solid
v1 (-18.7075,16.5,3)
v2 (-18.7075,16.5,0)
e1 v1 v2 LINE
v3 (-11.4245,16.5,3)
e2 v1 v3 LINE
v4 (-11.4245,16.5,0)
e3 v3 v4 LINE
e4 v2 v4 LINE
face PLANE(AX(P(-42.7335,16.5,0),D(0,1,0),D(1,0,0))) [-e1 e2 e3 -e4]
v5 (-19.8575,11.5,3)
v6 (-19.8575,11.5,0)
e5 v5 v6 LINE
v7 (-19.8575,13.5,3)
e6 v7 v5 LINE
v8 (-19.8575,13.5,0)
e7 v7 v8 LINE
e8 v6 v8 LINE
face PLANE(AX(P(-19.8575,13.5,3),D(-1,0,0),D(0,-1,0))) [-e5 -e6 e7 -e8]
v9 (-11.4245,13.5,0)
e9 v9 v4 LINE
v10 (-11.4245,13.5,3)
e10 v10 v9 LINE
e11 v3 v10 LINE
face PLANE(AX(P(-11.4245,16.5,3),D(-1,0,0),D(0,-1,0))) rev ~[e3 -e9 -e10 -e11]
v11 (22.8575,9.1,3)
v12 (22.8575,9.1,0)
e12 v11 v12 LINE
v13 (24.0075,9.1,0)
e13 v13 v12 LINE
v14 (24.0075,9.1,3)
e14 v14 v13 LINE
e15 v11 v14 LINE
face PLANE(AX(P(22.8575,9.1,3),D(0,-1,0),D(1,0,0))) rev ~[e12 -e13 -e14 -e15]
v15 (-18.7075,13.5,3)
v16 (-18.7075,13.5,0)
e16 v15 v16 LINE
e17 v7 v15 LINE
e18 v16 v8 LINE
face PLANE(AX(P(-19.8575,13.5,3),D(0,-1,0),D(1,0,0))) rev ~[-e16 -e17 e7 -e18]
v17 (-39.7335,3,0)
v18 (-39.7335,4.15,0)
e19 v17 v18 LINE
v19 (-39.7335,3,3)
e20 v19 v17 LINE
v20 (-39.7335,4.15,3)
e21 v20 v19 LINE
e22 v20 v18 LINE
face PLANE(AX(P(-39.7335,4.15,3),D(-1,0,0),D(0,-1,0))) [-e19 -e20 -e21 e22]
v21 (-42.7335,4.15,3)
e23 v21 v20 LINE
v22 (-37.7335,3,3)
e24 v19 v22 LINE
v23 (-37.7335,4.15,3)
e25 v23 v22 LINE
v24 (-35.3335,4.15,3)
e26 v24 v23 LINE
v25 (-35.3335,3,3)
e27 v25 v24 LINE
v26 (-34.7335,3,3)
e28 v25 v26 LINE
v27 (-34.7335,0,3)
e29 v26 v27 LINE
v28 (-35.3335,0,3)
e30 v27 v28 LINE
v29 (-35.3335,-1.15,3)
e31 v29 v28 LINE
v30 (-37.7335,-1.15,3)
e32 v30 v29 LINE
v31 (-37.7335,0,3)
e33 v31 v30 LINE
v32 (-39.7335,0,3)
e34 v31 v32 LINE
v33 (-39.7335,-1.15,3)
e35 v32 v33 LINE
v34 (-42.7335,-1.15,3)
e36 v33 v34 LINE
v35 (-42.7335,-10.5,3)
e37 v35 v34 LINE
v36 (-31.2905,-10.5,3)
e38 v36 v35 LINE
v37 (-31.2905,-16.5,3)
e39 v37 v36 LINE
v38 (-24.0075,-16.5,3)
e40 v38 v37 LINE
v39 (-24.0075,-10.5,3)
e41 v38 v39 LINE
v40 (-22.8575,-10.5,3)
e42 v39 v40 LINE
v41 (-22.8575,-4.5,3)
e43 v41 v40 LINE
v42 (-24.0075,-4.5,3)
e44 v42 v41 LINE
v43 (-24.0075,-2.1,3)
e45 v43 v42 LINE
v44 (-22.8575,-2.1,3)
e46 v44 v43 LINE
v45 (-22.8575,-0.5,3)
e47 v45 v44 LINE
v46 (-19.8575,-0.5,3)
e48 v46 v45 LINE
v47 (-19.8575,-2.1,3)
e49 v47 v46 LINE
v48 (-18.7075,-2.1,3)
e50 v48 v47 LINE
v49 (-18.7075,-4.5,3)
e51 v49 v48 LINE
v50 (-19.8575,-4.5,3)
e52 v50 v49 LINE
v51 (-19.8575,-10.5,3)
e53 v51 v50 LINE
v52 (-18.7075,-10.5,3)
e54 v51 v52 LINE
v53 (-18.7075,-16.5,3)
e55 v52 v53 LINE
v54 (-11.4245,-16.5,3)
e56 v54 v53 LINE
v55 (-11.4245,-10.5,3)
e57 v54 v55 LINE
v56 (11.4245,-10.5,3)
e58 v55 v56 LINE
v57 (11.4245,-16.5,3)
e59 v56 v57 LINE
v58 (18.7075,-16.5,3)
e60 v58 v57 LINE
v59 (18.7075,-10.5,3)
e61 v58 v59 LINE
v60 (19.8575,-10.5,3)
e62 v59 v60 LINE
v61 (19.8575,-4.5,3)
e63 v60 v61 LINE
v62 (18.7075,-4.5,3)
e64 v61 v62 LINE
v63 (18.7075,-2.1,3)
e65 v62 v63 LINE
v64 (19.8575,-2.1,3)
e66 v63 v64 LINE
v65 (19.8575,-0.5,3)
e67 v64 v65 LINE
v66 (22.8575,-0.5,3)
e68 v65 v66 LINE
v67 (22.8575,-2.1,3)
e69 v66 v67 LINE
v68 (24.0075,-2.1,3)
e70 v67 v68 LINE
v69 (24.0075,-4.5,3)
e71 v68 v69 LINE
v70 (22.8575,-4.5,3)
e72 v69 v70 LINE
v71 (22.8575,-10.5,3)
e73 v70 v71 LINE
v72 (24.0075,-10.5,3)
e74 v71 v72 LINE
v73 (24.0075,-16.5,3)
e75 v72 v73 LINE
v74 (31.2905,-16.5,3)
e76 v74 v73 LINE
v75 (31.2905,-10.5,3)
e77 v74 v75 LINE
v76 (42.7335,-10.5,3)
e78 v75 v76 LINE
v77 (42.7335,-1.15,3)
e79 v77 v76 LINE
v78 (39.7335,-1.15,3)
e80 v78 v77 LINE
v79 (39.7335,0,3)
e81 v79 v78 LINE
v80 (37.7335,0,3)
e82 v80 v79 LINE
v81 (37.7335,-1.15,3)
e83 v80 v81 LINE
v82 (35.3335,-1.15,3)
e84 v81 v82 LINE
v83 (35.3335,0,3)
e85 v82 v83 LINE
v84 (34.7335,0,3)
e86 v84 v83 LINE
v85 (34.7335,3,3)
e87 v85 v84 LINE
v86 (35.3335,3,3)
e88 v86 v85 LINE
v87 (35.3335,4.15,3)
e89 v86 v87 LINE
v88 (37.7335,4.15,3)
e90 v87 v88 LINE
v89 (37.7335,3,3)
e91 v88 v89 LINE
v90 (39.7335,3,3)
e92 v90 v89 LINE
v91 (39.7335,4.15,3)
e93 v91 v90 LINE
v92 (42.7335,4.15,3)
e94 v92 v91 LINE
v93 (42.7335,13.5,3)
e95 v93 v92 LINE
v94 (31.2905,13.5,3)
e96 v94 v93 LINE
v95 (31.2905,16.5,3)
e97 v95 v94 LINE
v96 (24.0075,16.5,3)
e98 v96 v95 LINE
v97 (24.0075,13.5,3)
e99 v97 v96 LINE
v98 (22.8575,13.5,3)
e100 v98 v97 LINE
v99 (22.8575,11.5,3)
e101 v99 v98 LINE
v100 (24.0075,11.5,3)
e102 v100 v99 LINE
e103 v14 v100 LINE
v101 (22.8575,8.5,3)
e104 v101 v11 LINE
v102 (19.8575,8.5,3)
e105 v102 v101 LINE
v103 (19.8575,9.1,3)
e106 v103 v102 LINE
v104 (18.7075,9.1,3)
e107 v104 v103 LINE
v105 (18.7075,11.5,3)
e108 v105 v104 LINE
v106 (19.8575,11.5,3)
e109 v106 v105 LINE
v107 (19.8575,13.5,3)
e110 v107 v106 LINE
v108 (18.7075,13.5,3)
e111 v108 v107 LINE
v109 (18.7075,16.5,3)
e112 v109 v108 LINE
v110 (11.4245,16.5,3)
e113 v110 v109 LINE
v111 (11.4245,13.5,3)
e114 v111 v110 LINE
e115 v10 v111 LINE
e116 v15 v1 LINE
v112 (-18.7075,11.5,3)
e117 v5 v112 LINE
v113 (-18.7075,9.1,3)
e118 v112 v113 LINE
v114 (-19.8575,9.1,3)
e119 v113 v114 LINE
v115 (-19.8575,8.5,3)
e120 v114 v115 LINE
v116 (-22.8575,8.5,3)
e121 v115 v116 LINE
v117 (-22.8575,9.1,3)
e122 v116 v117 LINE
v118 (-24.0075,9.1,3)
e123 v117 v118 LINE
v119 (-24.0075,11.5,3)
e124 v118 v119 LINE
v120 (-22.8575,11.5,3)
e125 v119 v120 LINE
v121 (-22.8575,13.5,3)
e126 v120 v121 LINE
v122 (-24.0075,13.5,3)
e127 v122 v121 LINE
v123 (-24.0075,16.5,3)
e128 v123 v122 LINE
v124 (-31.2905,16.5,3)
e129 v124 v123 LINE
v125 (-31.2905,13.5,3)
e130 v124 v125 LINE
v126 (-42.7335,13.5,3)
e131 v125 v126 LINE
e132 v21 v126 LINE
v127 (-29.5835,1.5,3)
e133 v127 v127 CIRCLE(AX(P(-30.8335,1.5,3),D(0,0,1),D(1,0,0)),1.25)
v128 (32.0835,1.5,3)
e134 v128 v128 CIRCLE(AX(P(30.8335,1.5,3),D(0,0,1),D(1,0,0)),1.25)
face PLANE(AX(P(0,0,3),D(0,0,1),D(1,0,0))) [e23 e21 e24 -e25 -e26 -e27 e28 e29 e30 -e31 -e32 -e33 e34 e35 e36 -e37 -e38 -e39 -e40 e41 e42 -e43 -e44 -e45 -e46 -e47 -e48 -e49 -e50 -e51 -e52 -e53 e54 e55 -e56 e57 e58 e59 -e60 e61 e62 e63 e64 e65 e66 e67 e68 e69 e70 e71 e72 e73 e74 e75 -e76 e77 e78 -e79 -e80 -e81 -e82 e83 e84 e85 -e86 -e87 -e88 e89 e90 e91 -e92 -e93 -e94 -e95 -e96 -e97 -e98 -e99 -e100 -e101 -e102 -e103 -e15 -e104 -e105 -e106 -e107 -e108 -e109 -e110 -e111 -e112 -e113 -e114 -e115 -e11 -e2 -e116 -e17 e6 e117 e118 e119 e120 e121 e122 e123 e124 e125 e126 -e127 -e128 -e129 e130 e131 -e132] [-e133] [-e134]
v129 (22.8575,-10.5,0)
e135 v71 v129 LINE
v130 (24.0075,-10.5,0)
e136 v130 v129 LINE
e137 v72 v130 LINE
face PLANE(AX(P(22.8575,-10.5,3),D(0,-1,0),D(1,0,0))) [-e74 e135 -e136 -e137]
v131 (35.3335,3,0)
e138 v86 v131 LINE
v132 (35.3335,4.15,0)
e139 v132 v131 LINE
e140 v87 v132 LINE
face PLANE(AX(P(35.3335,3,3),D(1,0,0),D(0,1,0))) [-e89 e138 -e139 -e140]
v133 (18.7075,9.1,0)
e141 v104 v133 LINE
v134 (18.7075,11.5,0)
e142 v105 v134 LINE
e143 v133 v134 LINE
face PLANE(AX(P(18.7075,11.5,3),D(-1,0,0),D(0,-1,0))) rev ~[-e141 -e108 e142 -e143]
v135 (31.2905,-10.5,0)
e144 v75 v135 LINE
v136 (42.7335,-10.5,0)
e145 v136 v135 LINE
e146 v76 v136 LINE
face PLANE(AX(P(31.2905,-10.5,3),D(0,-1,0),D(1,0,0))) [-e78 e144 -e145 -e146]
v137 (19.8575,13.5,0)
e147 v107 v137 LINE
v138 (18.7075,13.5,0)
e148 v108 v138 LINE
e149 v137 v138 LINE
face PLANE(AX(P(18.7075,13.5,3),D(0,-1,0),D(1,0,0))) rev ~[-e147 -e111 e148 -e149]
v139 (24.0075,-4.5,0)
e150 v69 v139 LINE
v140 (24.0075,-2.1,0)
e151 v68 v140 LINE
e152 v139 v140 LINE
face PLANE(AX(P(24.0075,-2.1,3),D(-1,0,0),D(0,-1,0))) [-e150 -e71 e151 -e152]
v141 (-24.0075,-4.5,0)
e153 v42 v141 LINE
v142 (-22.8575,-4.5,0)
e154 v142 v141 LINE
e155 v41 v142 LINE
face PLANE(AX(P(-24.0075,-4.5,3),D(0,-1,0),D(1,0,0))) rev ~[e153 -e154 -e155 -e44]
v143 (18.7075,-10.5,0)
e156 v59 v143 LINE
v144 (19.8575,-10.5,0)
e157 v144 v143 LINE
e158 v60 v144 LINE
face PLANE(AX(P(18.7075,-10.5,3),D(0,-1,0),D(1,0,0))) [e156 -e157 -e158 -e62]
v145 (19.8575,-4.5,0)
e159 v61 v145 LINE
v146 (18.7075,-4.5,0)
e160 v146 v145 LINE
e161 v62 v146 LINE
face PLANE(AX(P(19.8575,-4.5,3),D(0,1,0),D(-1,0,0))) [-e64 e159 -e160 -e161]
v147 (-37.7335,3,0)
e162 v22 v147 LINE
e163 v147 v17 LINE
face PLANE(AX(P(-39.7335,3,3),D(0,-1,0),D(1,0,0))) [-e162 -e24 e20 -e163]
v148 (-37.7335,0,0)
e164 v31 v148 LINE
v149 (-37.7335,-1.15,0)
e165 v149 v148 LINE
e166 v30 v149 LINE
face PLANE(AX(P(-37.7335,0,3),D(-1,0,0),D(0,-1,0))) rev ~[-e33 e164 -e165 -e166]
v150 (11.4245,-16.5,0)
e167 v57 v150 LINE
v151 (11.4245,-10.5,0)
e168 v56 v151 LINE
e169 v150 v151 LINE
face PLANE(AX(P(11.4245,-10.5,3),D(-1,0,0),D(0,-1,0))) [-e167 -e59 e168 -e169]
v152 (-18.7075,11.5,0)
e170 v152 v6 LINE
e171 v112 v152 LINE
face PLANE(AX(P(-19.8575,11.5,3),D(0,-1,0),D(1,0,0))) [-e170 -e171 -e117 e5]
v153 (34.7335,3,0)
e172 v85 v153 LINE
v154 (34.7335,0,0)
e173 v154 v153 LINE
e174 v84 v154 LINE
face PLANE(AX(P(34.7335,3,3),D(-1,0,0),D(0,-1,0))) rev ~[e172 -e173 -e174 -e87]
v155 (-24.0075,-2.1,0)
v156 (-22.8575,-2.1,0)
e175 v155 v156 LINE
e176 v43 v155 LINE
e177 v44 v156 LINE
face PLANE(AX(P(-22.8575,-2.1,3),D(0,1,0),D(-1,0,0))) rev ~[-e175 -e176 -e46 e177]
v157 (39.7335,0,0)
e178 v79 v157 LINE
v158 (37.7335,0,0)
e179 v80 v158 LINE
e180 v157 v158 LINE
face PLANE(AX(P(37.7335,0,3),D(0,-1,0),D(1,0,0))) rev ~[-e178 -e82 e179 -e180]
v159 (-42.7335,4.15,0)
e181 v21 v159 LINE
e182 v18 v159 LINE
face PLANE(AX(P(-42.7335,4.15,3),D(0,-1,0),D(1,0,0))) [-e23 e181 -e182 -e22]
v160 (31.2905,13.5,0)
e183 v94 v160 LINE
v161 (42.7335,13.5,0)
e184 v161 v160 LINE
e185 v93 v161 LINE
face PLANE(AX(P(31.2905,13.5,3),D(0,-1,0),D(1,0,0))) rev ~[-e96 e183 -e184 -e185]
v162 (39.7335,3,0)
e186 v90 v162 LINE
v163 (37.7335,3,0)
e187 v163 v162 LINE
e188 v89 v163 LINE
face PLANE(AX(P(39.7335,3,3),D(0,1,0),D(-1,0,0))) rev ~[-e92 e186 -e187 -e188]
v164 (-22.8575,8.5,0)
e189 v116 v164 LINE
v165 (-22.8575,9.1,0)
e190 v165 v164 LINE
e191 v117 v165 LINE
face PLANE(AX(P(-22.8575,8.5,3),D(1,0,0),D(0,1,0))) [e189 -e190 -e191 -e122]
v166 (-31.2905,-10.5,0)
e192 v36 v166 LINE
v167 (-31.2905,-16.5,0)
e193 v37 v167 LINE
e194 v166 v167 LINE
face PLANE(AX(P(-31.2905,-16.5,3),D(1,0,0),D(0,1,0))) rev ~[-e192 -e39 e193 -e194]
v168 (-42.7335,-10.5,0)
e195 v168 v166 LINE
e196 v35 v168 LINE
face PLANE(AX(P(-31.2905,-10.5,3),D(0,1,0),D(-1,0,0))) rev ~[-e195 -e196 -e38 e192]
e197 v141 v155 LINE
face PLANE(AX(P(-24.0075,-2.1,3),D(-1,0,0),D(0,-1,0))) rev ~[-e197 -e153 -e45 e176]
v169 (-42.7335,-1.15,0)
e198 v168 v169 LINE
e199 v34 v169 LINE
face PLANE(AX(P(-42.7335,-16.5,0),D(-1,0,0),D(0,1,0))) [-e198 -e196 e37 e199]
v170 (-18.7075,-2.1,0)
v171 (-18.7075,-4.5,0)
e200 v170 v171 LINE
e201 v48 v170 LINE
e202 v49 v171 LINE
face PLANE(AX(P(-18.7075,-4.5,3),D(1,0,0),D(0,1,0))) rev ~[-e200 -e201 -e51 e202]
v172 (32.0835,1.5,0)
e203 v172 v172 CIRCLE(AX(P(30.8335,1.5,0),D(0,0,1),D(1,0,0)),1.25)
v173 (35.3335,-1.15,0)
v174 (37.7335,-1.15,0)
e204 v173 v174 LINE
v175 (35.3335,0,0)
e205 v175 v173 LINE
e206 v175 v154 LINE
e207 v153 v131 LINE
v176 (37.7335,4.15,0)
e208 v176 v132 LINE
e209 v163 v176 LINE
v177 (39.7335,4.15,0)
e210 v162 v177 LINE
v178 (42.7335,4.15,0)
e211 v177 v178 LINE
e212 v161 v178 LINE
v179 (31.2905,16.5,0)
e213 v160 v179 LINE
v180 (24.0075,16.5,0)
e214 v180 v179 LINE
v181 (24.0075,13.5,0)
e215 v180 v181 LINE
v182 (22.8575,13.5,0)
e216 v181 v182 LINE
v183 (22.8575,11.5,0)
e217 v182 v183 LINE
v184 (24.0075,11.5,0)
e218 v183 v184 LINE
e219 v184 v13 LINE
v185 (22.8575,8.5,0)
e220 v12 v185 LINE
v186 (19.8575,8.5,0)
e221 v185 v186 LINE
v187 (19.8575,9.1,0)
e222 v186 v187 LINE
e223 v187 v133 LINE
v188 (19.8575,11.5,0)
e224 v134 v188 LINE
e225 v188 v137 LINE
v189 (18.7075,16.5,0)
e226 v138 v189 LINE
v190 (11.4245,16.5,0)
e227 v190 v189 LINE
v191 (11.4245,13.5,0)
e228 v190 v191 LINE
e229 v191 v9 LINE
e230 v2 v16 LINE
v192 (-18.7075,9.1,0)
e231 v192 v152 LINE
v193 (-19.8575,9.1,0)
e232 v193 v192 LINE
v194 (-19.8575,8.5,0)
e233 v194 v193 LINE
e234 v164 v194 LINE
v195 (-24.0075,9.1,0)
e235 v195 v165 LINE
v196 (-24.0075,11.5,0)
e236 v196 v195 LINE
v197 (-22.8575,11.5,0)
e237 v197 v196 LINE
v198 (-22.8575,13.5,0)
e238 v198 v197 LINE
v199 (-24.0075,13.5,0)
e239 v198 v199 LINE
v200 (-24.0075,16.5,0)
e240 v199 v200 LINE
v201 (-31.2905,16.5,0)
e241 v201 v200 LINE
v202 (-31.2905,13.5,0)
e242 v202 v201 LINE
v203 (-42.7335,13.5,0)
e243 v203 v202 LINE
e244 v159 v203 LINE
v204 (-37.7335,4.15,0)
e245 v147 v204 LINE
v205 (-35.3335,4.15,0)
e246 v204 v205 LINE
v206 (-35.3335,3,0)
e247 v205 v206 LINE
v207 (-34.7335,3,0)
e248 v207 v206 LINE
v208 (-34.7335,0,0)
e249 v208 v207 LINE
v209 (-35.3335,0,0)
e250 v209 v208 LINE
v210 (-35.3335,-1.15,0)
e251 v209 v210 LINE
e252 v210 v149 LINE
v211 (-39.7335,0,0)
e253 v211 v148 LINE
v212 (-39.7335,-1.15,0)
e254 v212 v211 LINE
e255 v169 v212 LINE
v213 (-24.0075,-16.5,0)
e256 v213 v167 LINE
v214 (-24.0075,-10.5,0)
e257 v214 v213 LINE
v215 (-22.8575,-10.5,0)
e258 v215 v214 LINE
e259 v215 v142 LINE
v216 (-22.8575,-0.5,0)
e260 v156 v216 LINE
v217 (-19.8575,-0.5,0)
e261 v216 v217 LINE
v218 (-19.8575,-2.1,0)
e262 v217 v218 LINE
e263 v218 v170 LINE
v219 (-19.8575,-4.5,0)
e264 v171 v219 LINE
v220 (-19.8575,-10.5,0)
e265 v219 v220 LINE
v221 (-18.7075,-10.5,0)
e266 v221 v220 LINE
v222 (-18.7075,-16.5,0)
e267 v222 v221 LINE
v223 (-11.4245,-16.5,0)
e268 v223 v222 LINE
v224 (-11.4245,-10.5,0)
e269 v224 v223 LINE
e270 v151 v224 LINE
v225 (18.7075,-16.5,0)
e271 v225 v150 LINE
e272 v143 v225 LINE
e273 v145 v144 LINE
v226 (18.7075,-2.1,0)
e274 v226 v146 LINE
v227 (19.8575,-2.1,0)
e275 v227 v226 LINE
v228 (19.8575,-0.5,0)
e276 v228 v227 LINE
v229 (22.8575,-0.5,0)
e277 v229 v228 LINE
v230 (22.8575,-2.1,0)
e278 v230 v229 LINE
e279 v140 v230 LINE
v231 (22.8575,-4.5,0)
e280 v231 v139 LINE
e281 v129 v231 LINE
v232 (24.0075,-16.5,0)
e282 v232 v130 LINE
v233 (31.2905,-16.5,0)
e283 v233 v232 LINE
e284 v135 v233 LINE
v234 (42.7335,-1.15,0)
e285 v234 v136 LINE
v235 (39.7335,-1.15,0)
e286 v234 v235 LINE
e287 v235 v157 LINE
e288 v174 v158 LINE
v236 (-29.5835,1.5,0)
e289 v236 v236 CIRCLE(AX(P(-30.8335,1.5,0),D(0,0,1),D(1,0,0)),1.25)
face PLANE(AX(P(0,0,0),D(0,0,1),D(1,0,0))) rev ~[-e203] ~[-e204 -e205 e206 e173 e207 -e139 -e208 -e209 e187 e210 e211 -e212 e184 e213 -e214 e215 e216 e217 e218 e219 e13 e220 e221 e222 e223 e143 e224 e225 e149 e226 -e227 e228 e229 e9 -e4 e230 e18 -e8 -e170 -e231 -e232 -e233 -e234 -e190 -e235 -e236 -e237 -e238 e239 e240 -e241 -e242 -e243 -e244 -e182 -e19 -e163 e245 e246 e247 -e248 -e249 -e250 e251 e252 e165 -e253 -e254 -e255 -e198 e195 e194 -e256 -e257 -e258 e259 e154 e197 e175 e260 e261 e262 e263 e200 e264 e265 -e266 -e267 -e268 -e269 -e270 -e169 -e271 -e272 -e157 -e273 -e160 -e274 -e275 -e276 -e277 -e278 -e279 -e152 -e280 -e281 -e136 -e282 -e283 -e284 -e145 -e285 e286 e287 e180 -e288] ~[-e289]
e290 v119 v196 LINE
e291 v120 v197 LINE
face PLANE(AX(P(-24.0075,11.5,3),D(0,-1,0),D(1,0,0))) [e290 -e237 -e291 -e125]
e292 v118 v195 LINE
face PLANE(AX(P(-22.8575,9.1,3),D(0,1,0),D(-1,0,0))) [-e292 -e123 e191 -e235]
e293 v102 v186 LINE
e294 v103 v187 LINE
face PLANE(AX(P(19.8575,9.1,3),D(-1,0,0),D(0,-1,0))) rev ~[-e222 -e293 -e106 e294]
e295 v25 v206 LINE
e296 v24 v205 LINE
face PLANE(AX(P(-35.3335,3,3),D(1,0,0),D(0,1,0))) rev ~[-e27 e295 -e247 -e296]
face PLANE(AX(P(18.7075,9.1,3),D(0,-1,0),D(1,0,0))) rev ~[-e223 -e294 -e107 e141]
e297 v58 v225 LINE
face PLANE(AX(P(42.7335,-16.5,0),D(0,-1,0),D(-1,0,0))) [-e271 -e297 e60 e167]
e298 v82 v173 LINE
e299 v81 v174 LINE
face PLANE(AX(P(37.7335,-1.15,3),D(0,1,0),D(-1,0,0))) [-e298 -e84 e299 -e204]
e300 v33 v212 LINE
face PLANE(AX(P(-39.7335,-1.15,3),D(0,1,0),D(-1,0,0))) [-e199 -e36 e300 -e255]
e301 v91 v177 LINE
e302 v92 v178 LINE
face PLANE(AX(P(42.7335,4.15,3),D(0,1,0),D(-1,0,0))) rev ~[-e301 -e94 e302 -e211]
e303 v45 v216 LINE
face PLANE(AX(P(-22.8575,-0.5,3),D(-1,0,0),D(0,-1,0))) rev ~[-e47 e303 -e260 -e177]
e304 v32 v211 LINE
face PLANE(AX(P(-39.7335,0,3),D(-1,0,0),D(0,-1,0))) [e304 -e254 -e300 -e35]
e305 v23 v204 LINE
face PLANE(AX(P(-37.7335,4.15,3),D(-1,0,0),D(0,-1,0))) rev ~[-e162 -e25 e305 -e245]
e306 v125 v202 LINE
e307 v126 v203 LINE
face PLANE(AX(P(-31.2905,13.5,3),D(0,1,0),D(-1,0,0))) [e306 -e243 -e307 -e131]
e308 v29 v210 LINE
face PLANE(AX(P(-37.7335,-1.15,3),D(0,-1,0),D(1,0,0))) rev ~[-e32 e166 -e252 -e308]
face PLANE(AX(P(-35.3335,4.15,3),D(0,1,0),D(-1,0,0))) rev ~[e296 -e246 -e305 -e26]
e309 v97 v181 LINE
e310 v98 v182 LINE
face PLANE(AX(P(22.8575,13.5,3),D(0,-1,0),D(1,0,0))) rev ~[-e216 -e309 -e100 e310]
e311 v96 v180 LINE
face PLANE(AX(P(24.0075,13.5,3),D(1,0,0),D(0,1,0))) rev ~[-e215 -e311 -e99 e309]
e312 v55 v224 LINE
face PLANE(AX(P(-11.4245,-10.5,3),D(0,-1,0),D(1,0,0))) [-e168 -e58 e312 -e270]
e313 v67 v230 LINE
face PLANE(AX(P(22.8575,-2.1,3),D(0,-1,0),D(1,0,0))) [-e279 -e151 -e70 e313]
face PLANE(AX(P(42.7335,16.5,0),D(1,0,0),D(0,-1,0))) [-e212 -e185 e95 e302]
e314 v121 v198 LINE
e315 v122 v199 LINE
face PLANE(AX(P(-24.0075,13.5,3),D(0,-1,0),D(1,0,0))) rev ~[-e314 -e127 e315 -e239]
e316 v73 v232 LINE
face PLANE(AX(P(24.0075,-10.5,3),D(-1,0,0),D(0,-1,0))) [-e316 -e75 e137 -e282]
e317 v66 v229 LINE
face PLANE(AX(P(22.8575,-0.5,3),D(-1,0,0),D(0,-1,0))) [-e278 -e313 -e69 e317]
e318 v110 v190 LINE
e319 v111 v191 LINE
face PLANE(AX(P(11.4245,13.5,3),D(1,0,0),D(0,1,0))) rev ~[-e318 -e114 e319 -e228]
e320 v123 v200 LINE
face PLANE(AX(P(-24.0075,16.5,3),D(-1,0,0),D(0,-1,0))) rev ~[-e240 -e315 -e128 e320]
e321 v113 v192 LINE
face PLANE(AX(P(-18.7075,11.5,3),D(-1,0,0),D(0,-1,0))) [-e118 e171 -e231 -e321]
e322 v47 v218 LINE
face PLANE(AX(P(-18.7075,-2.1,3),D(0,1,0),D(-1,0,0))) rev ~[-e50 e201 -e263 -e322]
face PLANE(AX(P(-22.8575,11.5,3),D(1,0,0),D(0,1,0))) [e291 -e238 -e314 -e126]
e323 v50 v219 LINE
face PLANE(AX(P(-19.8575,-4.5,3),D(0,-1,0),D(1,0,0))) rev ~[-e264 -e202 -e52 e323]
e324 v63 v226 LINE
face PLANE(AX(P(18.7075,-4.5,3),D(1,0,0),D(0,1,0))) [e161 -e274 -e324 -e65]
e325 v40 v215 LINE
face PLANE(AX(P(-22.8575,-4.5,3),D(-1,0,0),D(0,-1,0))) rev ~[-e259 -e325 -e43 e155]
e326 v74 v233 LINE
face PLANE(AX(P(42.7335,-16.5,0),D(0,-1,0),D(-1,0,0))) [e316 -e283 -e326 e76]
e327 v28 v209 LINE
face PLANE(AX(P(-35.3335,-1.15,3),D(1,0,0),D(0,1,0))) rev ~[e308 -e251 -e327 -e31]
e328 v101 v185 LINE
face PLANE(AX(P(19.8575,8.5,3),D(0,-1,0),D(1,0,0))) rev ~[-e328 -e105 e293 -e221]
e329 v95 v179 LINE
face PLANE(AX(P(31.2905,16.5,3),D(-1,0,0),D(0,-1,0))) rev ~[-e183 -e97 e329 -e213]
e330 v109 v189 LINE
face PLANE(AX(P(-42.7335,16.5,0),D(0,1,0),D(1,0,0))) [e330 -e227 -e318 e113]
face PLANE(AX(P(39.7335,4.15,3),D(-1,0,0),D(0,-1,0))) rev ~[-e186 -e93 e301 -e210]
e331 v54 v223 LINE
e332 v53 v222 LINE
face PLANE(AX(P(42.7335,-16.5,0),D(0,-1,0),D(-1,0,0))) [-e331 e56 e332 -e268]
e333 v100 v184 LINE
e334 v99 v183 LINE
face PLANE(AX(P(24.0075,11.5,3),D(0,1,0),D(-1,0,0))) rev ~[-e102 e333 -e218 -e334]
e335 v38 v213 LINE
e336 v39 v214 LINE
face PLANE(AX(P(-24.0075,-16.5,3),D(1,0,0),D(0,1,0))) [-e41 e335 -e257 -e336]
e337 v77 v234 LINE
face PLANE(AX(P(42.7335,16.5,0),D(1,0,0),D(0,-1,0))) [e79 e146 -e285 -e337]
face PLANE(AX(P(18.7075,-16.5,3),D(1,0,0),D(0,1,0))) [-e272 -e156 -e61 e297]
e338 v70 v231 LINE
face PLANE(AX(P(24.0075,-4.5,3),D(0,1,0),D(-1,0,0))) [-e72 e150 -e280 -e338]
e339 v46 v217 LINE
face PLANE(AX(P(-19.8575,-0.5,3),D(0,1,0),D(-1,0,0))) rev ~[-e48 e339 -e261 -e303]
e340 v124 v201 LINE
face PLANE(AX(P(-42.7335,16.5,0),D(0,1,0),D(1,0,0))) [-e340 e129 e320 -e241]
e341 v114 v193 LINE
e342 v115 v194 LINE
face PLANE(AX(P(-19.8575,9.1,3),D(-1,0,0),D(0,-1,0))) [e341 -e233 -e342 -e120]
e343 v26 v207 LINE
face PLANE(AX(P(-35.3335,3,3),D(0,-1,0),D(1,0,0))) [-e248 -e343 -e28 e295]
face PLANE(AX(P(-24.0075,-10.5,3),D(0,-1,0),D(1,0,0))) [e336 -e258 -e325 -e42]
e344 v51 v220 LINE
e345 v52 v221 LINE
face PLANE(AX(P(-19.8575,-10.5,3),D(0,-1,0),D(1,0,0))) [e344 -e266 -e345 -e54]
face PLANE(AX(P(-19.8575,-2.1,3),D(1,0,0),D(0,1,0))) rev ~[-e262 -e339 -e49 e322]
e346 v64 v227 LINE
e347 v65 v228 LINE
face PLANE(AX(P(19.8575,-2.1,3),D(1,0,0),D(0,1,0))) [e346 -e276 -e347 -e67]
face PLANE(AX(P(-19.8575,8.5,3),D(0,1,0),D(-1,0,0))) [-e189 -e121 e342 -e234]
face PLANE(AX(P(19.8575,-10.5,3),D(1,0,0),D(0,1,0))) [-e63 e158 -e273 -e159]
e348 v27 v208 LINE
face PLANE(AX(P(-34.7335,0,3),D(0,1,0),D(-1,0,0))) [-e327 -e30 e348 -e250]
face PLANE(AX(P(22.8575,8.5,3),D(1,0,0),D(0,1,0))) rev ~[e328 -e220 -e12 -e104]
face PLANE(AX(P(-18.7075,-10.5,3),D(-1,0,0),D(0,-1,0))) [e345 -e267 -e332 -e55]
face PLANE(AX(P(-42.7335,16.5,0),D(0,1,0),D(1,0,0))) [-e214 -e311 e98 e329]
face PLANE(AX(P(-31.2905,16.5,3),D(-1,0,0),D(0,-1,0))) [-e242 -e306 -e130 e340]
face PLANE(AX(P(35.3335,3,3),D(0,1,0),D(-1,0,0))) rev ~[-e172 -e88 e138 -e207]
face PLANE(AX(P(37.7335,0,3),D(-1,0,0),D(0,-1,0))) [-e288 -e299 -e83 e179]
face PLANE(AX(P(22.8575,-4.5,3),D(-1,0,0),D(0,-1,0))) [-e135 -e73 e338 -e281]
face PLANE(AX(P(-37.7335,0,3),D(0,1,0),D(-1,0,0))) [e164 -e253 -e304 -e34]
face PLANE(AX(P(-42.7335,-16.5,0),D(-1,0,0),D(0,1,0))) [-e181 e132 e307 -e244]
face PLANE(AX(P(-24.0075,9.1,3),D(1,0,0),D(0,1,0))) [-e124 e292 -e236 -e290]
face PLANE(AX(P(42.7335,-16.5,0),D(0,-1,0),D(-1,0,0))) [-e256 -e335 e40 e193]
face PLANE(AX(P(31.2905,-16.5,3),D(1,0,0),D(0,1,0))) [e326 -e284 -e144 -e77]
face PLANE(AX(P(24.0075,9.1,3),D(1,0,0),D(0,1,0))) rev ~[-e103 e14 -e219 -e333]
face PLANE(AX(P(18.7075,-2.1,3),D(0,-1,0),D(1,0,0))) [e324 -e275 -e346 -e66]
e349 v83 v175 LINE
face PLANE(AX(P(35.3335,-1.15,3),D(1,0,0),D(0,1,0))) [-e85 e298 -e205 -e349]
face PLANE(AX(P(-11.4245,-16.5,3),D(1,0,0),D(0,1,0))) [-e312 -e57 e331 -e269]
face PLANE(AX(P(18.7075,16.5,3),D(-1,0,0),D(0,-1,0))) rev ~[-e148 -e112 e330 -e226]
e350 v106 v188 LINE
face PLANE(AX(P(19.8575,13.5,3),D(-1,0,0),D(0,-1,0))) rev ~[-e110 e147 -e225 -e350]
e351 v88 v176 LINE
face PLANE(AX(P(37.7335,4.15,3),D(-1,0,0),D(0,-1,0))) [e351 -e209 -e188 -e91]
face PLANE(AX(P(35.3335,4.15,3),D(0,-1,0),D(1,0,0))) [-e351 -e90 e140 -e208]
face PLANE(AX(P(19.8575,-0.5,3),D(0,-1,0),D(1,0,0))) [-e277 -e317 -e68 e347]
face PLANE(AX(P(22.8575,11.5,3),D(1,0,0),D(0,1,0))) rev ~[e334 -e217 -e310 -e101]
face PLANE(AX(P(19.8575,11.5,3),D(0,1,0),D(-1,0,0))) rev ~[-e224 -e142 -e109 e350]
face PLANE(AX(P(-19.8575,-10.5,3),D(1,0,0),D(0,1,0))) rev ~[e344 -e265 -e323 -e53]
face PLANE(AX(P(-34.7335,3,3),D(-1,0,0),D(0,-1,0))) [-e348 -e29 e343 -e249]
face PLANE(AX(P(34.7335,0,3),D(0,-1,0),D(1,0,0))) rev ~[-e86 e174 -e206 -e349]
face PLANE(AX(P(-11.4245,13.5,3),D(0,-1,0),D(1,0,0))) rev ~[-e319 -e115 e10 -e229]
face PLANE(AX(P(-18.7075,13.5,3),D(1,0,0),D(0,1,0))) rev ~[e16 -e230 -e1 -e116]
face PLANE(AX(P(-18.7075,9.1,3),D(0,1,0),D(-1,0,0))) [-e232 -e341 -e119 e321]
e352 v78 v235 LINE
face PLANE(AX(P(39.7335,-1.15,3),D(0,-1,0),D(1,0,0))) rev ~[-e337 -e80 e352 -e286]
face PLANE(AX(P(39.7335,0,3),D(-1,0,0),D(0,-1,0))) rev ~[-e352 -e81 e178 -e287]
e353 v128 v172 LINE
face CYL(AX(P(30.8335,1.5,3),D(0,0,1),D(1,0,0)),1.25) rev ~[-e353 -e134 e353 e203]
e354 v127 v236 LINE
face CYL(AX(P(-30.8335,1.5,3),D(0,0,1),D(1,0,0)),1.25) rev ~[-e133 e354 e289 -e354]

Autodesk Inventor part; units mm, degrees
ref_plane "YZ Plane" through (0, 0, 0) normal (1, 0, 0) x (0, 1, 0)
ref_plane "XZ Plane" through (0, 0, 0) normal (0, 1, 0) x (-1, 0, 0)
ref_plane "XY Plane" through (0, 0, 0) normal (0, 0, 1) x (1, 0, 0)
sketch "Sketch3" plane through (0, 0, 0) normal (0, 0, 1) x (1, 0, 0)
  line L0 (-42.7335, 16.5) -> (42.7335, 16.5)
  line L1 (42.7335, 16.5) -> (42.7335, -16.5)
  line L2 (42.7335, -16.5) -> (-42.7335, -16.5)
  line L3 (-42.7335, -16.5) -> (-42.7335, 16.5)
  line L4 (-42.7335, 16.5) -> (42.7335, -16.5) construction
  line L5 (42.7335, 16.5) -> (-42.7335, -16.5) construction
  point P0 (0, 0)
  dimension "d5" = 33
  dimension "d6" = 85.467
extrude "Extrusion2" add sketch "Sketch3" along normal blind 3
sketch "Sketch4" plane through (0, 0, 3) normal (0, 0, 1) x (1, 0, 0)
  line L0 (-42.7335, 16.5) -> (-42.7335, -16.5) projected
  line L1 (42.7335, -16.5) -> (42.7335, 16.5) projected
  line L2 (-42.7335, -16.5) -> (42.7335, -16.5) projected
  line L3 (42.7335, -16.5) -> (31.2905, -16.5)
  line L4 (31.2905, -16.5) -> (31.2905, -10.5)
  line L5 (31.2905, -10.5) -> (42.7335, -10.5)
  line L6 (42.7335, -10.5) -> (42.7335, -16.5)
  line L7 (21.3575, -16.5) -> (21.3575, 22.3854) construction
  line L8 (22.8575, -16.5) -> (19.8575, -16.5)
  line L9 (19.8575, -16.5) -> (19.8575, -0.5)
  line L10 (19.8575, -0.5) -> (22.8575, -0.5)
  line L11 (22.8575, -0.5) -> (22.8575, -16.5)
  line L12 (18.7075, -2.1) -> (24.0075, -2.1)
  line L13 (24.0075, -2.1) -> (24.0075, -4.5)
  line L14 (24.0075, -4.5) -> (18.7075, -4.5)
  line L15 (18.7075, -4.5) -> (18.7075, -2.1)
  line L16 (0, 33.54) -> (0, -25.8799) construction
  line L17 (-42.7335, -16.5) -> (-31.2905, -16.5)
  line L18 (-31.2905, -16.5) -> (-31.2905, -10.5)
  line L19 (-31.2905, -10.5) -> (-42.7335, -10.5)
  line L20 (-42.7335, -10.5) -> (-42.7335, -16.5)
  line L21 (-22.8575, -16.5) -> (-19.8575, -16.5)
  line L22 (-19.8575, -16.5) -> (-19.8575, -0.5)
  line L23 (-19.8575, -0.5) -> (-22.8575, -0.5)
  line L24 (-22.8575, -0.5) -> (-22.8575, -16.5)
  line L25 (-18.7075, -2.1) -> (-24.0075, -2.1)
  line L26 (-24.0075, -2.1) -> (-24.0075, -4.5)
  line L27 (-24.0075, -4.5) -> (-18.7075, -4.5)
  line L28 (-18.7075, -4.5) -> (-18.7075, -2.1)
  line L29 (11.4245, -16.5) -> (-11.4245, -16.5)
  line L30 (-11.4245, -16.5) -> (-11.4245, -10.5)
  line L31 (-11.4245, -10.5) -> (11.4245, -10.5)
  line L32 (11.4245, -10.5) -> (11.4245, -16.5)
  line L33 (58.2331, 0) -> (-60.3586, 0) construction
  line L34 (42.7335, 16.5) -> (31.2905, 16.5)
  line L35 (31.2905, 16.5) -> (31.2905, 13.5)
  line L36 (31.2905, 13.5) -> (42.7335, 13.5)
  line L37 (42.7335, 13.5) -> (42.7335, 16.5)
  line L38 (42.7335, 16.5) -> (-42.7335, 16.5) projected
  line L39 (11.4245, 16.5) -> (-11.4245, 16.5)
  line L40 (-11.4245, 16.5) -> (-11.4245, 13.5)
  line L41 (-11.4245, 13.5) -> (11.4245, 13.5)
  line L42 (11.4245, 13.5) -> (11.4245, 16.5)
  line L43 (-42.7335, 16.5) -> (-31.2905, 16.5)
  line L44 (-31.2905, 16.5) -> (-31.2905, 13.5)
  line L45 (-31.2905, 13.5) -> (-42.7335, 13.5)
  line L46 (-42.7335, 13.5) -> (-42.7335, 16.5)
  line L47 (22.8575, 16.5) -> (19.8575, 16.5)
  line L48 (19.8575, 16.5) -> (19.8575, 8.5)
  line L49 (19.8575, 8.5) -> (22.8575, 8.5)
  line L50 (22.8575, 8.5) -> (22.8575, 16.5)
  line L51 (18.7075, 9.1) -> (24.0075, 9.1)
  line L52 (24.0075, 9.1) -> (24.0075, 11.5)
  line L53 (24.0075, 11.5) -> (18.7075, 11.5)
  line L54 (18.7075, 11.5) -> (18.7075, 9.1)
  line L55 (-22.8575, 16.5) -> (-19.8575, 16.5)
  line L56 (-19.8575, 16.5) -> (-19.8575, 8.5)
  line L57 (-19.8575, 8.5) -> (-22.8575, 8.5)
  line L58 (-22.8575, 8.5) -> (-22.8575, 16.5)
  line L59 (-18.7075, 9.1) -> (-24.0075, 9.1)
  line L60 (-24.0075, 9.1) -> (-24.0075, 11.5)
  line L61 (-24.0075, 11.5) -> (-18.7075, 11.5)
  line L62 (-18.7075, 11.5) -> (-18.7075, 9.1)
  line L63 (42.7335, 1.5) -> (32.1415, 1.5) construction
  line L64 (42.7335, 3) -> (34.7335, 3)
  line L65 (34.7335, 3) -> (34.7335, 0)
  line L66 (34.7335, 0) -> (42.7335, 0)
  line L67 (42.7335, 0) -> (42.7335, 3)
  line L68 (35.3335, 4.15) -> (37.7335, 4.15)
  line L69 (37.7335, 4.15) -> (37.7335, -1.15)
  line L70 (37.7335, -1.15) -> (35.3335, -1.15)
  line L71 (35.3335, -1.15) -> (35.3335, 4.15)
  line L72 (24.0075, -16.5) -> (18.7075, -16.5)
  line L73 (18.7075, -16.5) -> (18.7075, -10.5)
  line L74 (18.7075, -10.5) -> (24.0075, -10.5)
  line L75 (24.0075, -10.5) -> (24.0075, -16.5)
  line L76 (-18.7075, -16.5) -> (-24.0075, -16.5)
  line L77 (-24.0075, -16.5) -> (-24.0075, -10.5)
  line L78 (-24.0075, -10.5) -> (-18.7075, -10.5)
  line L79 (-18.7075, -10.5) -> (-18.7075, -16.5)
  line L80 (24.0075, 16.5) -> (18.7075, 16.5)
  line L81 (18.7075, 16.5) -> (18.7075, 13.5)
  line L82 (18.7075, 13.5) -> (24.0075, 13.5)
  line L83 (24.0075, 13.5) -> (24.0075, 16.5)
  line L84 (-18.7075, 16.5) -> (-24.0075, 16.5)
  line L85 (-24.0075, 16.5) -> (-24.0075, 13.5)
  line L86 (-24.0075, 13.5) -> (-18.7075, 13.5)
  line L87 (-18.7075, 13.5) -> (-18.7075, 16.5)
  line L88 (42.7335, 4.15) -> (39.7335, 4.15)
  line L89 (39.7335, 4.15) -> (39.7335, -1.15)
  line L90 (39.7335, -1.15) -> (42.7335, -1.15)
  line L91 (42.7335, -1.15) -> (42.7335, 4.15)
  line L92 (-42.7335, 3) -> (-34.7335, 3)
  line L93 (-34.7335, 3) -> (-34.7335, 0)
  line L94 (-34.7335, 0) -> (-42.7335, 0)
  line L95 (-42.7335, 0) -> (-42.7335, 3)
  line L96 (-35.3335, 4.15) -> (-37.7335, 4.15)
  line L97 (-37.7335, 4.15) -> (-37.7335, -1.15)
  line L98 (-37.7335, -1.15) -> (-35.3335, -1.15)
  line L99 (-35.3335, -1.15) -> (-35.3335, 4.15)
  line L100 (-42.7335, 4.15) -> (-39.7335, 4.15)
  line L101 (-39.7335, 4.15) -> (-39.7335, -1.15)
  line L102 (-39.7335, -1.15) -> (-42.7335, -1.15)
  line L103 (-42.7335, -1.15) -> (-42.7335, 4.15)
  circle A0 centre (-30.8335, 1.5) radius 1.25
  circle A1 centre (30.8335, 1.5) radius 1.25
  dimension "d12" = 11.443
  dimension "d13" = 6
  dimension "d17" = 3
  dimension "d18" = 16
  dimension "d20" = 5.3
  dimension "d21" = 2.4
  dimension "d22" = 6
  dimension "d27" = 3
  dimension "d28" = 8
  dimension "d29" = 5
  dimension "d30" = 8
  dimension "d31" = 3
  dimension "d32" = 2.4
  dimension "d33" = 5.3
  dimension "d34" = 5
  dimension "d35" = 3
  dimension "d38" = 2.5
  dimension "d39" = 11.9
  dimension "d40" = 24
  dimension "d41" = 12
  dimension "d42" = 2.5
  dimension "d43" = 11.9
  dimension "d44" = 12
  dimension "d45" = 7.283
  dimension "d46" = 7.283
  dimension "d47" = 7.283
  dimension "d48" = 7.283
extrude "Extrusion3" cut sketch "Sketch4" against normal up to next contours L38 L44 L45 L0 | L100 L101 L92 L0 | L38 L58 L86 L85 | L92 L101 L94 L0 | L38 L56 L86 L58 | L94 L101 L102 L0 | L92 L97 L94 L101 | L38 L87 L86 L56 | L86 L56 L61 L58 | L97 L96 L99 L92 | L92 L99 L94 L97 | L61 L56 L59 L58 | L58 L59 L60 L61 | L19 L18 L2 L0 | L94 L99 L98 L97 | L92 L93 L94 L99 | L38 L42 L41 L40 | L61 L62 L59 L56 | L59 L56 L57 L58 | L38 L48 L82 L81 | L77 L78 L24 L2 | L38 L50 L82 L48 | L24 L78 L22 L2 | L38 L83 L82 L50 | L82 L50 L53 L48 | L22 L78 L79 L2 | L24 L27 L22 L78 | L53 L50 L51 L48 | L48 L51 L54 L53 | L27 L26 L25 L24 | L24 L25 L22 L27 | L34 L1 L36 L35 | L53 L52 L51 L50 | L51 L50 L49 L48 | L30 L31 L32 L2 | L22 L25 L28 L27 | L24 L23 L22 L25 | L73 L74 L9 L2 | L1 L64 L89 L88 | L9 L74 L11 L2 | L1 L66 L89 L64 | L11 L74 L75 L2 | L9 L14 L11 L74 | L1 L90 L89 L66 | L89 L66 L69 L64 | L14 L15 L12 L9 | L9 L12 L11 L14 | L69 L66 L71 L64 | L64 L71 L68 L69 | L4 L5 L1 L2 | L11 L12 L13 L14 | L9 L10 L11 L12 | L69 L70 L71 L66 | L71 L66 L65 L64 | A0 | A1
equation "\"d41\" = 0.5 * d40"
equation "\"d44\" = d41"
equation "\"d46\" = d45"
equation "\"d47\" = d46"
properties part number "X-Anchor_Top"
